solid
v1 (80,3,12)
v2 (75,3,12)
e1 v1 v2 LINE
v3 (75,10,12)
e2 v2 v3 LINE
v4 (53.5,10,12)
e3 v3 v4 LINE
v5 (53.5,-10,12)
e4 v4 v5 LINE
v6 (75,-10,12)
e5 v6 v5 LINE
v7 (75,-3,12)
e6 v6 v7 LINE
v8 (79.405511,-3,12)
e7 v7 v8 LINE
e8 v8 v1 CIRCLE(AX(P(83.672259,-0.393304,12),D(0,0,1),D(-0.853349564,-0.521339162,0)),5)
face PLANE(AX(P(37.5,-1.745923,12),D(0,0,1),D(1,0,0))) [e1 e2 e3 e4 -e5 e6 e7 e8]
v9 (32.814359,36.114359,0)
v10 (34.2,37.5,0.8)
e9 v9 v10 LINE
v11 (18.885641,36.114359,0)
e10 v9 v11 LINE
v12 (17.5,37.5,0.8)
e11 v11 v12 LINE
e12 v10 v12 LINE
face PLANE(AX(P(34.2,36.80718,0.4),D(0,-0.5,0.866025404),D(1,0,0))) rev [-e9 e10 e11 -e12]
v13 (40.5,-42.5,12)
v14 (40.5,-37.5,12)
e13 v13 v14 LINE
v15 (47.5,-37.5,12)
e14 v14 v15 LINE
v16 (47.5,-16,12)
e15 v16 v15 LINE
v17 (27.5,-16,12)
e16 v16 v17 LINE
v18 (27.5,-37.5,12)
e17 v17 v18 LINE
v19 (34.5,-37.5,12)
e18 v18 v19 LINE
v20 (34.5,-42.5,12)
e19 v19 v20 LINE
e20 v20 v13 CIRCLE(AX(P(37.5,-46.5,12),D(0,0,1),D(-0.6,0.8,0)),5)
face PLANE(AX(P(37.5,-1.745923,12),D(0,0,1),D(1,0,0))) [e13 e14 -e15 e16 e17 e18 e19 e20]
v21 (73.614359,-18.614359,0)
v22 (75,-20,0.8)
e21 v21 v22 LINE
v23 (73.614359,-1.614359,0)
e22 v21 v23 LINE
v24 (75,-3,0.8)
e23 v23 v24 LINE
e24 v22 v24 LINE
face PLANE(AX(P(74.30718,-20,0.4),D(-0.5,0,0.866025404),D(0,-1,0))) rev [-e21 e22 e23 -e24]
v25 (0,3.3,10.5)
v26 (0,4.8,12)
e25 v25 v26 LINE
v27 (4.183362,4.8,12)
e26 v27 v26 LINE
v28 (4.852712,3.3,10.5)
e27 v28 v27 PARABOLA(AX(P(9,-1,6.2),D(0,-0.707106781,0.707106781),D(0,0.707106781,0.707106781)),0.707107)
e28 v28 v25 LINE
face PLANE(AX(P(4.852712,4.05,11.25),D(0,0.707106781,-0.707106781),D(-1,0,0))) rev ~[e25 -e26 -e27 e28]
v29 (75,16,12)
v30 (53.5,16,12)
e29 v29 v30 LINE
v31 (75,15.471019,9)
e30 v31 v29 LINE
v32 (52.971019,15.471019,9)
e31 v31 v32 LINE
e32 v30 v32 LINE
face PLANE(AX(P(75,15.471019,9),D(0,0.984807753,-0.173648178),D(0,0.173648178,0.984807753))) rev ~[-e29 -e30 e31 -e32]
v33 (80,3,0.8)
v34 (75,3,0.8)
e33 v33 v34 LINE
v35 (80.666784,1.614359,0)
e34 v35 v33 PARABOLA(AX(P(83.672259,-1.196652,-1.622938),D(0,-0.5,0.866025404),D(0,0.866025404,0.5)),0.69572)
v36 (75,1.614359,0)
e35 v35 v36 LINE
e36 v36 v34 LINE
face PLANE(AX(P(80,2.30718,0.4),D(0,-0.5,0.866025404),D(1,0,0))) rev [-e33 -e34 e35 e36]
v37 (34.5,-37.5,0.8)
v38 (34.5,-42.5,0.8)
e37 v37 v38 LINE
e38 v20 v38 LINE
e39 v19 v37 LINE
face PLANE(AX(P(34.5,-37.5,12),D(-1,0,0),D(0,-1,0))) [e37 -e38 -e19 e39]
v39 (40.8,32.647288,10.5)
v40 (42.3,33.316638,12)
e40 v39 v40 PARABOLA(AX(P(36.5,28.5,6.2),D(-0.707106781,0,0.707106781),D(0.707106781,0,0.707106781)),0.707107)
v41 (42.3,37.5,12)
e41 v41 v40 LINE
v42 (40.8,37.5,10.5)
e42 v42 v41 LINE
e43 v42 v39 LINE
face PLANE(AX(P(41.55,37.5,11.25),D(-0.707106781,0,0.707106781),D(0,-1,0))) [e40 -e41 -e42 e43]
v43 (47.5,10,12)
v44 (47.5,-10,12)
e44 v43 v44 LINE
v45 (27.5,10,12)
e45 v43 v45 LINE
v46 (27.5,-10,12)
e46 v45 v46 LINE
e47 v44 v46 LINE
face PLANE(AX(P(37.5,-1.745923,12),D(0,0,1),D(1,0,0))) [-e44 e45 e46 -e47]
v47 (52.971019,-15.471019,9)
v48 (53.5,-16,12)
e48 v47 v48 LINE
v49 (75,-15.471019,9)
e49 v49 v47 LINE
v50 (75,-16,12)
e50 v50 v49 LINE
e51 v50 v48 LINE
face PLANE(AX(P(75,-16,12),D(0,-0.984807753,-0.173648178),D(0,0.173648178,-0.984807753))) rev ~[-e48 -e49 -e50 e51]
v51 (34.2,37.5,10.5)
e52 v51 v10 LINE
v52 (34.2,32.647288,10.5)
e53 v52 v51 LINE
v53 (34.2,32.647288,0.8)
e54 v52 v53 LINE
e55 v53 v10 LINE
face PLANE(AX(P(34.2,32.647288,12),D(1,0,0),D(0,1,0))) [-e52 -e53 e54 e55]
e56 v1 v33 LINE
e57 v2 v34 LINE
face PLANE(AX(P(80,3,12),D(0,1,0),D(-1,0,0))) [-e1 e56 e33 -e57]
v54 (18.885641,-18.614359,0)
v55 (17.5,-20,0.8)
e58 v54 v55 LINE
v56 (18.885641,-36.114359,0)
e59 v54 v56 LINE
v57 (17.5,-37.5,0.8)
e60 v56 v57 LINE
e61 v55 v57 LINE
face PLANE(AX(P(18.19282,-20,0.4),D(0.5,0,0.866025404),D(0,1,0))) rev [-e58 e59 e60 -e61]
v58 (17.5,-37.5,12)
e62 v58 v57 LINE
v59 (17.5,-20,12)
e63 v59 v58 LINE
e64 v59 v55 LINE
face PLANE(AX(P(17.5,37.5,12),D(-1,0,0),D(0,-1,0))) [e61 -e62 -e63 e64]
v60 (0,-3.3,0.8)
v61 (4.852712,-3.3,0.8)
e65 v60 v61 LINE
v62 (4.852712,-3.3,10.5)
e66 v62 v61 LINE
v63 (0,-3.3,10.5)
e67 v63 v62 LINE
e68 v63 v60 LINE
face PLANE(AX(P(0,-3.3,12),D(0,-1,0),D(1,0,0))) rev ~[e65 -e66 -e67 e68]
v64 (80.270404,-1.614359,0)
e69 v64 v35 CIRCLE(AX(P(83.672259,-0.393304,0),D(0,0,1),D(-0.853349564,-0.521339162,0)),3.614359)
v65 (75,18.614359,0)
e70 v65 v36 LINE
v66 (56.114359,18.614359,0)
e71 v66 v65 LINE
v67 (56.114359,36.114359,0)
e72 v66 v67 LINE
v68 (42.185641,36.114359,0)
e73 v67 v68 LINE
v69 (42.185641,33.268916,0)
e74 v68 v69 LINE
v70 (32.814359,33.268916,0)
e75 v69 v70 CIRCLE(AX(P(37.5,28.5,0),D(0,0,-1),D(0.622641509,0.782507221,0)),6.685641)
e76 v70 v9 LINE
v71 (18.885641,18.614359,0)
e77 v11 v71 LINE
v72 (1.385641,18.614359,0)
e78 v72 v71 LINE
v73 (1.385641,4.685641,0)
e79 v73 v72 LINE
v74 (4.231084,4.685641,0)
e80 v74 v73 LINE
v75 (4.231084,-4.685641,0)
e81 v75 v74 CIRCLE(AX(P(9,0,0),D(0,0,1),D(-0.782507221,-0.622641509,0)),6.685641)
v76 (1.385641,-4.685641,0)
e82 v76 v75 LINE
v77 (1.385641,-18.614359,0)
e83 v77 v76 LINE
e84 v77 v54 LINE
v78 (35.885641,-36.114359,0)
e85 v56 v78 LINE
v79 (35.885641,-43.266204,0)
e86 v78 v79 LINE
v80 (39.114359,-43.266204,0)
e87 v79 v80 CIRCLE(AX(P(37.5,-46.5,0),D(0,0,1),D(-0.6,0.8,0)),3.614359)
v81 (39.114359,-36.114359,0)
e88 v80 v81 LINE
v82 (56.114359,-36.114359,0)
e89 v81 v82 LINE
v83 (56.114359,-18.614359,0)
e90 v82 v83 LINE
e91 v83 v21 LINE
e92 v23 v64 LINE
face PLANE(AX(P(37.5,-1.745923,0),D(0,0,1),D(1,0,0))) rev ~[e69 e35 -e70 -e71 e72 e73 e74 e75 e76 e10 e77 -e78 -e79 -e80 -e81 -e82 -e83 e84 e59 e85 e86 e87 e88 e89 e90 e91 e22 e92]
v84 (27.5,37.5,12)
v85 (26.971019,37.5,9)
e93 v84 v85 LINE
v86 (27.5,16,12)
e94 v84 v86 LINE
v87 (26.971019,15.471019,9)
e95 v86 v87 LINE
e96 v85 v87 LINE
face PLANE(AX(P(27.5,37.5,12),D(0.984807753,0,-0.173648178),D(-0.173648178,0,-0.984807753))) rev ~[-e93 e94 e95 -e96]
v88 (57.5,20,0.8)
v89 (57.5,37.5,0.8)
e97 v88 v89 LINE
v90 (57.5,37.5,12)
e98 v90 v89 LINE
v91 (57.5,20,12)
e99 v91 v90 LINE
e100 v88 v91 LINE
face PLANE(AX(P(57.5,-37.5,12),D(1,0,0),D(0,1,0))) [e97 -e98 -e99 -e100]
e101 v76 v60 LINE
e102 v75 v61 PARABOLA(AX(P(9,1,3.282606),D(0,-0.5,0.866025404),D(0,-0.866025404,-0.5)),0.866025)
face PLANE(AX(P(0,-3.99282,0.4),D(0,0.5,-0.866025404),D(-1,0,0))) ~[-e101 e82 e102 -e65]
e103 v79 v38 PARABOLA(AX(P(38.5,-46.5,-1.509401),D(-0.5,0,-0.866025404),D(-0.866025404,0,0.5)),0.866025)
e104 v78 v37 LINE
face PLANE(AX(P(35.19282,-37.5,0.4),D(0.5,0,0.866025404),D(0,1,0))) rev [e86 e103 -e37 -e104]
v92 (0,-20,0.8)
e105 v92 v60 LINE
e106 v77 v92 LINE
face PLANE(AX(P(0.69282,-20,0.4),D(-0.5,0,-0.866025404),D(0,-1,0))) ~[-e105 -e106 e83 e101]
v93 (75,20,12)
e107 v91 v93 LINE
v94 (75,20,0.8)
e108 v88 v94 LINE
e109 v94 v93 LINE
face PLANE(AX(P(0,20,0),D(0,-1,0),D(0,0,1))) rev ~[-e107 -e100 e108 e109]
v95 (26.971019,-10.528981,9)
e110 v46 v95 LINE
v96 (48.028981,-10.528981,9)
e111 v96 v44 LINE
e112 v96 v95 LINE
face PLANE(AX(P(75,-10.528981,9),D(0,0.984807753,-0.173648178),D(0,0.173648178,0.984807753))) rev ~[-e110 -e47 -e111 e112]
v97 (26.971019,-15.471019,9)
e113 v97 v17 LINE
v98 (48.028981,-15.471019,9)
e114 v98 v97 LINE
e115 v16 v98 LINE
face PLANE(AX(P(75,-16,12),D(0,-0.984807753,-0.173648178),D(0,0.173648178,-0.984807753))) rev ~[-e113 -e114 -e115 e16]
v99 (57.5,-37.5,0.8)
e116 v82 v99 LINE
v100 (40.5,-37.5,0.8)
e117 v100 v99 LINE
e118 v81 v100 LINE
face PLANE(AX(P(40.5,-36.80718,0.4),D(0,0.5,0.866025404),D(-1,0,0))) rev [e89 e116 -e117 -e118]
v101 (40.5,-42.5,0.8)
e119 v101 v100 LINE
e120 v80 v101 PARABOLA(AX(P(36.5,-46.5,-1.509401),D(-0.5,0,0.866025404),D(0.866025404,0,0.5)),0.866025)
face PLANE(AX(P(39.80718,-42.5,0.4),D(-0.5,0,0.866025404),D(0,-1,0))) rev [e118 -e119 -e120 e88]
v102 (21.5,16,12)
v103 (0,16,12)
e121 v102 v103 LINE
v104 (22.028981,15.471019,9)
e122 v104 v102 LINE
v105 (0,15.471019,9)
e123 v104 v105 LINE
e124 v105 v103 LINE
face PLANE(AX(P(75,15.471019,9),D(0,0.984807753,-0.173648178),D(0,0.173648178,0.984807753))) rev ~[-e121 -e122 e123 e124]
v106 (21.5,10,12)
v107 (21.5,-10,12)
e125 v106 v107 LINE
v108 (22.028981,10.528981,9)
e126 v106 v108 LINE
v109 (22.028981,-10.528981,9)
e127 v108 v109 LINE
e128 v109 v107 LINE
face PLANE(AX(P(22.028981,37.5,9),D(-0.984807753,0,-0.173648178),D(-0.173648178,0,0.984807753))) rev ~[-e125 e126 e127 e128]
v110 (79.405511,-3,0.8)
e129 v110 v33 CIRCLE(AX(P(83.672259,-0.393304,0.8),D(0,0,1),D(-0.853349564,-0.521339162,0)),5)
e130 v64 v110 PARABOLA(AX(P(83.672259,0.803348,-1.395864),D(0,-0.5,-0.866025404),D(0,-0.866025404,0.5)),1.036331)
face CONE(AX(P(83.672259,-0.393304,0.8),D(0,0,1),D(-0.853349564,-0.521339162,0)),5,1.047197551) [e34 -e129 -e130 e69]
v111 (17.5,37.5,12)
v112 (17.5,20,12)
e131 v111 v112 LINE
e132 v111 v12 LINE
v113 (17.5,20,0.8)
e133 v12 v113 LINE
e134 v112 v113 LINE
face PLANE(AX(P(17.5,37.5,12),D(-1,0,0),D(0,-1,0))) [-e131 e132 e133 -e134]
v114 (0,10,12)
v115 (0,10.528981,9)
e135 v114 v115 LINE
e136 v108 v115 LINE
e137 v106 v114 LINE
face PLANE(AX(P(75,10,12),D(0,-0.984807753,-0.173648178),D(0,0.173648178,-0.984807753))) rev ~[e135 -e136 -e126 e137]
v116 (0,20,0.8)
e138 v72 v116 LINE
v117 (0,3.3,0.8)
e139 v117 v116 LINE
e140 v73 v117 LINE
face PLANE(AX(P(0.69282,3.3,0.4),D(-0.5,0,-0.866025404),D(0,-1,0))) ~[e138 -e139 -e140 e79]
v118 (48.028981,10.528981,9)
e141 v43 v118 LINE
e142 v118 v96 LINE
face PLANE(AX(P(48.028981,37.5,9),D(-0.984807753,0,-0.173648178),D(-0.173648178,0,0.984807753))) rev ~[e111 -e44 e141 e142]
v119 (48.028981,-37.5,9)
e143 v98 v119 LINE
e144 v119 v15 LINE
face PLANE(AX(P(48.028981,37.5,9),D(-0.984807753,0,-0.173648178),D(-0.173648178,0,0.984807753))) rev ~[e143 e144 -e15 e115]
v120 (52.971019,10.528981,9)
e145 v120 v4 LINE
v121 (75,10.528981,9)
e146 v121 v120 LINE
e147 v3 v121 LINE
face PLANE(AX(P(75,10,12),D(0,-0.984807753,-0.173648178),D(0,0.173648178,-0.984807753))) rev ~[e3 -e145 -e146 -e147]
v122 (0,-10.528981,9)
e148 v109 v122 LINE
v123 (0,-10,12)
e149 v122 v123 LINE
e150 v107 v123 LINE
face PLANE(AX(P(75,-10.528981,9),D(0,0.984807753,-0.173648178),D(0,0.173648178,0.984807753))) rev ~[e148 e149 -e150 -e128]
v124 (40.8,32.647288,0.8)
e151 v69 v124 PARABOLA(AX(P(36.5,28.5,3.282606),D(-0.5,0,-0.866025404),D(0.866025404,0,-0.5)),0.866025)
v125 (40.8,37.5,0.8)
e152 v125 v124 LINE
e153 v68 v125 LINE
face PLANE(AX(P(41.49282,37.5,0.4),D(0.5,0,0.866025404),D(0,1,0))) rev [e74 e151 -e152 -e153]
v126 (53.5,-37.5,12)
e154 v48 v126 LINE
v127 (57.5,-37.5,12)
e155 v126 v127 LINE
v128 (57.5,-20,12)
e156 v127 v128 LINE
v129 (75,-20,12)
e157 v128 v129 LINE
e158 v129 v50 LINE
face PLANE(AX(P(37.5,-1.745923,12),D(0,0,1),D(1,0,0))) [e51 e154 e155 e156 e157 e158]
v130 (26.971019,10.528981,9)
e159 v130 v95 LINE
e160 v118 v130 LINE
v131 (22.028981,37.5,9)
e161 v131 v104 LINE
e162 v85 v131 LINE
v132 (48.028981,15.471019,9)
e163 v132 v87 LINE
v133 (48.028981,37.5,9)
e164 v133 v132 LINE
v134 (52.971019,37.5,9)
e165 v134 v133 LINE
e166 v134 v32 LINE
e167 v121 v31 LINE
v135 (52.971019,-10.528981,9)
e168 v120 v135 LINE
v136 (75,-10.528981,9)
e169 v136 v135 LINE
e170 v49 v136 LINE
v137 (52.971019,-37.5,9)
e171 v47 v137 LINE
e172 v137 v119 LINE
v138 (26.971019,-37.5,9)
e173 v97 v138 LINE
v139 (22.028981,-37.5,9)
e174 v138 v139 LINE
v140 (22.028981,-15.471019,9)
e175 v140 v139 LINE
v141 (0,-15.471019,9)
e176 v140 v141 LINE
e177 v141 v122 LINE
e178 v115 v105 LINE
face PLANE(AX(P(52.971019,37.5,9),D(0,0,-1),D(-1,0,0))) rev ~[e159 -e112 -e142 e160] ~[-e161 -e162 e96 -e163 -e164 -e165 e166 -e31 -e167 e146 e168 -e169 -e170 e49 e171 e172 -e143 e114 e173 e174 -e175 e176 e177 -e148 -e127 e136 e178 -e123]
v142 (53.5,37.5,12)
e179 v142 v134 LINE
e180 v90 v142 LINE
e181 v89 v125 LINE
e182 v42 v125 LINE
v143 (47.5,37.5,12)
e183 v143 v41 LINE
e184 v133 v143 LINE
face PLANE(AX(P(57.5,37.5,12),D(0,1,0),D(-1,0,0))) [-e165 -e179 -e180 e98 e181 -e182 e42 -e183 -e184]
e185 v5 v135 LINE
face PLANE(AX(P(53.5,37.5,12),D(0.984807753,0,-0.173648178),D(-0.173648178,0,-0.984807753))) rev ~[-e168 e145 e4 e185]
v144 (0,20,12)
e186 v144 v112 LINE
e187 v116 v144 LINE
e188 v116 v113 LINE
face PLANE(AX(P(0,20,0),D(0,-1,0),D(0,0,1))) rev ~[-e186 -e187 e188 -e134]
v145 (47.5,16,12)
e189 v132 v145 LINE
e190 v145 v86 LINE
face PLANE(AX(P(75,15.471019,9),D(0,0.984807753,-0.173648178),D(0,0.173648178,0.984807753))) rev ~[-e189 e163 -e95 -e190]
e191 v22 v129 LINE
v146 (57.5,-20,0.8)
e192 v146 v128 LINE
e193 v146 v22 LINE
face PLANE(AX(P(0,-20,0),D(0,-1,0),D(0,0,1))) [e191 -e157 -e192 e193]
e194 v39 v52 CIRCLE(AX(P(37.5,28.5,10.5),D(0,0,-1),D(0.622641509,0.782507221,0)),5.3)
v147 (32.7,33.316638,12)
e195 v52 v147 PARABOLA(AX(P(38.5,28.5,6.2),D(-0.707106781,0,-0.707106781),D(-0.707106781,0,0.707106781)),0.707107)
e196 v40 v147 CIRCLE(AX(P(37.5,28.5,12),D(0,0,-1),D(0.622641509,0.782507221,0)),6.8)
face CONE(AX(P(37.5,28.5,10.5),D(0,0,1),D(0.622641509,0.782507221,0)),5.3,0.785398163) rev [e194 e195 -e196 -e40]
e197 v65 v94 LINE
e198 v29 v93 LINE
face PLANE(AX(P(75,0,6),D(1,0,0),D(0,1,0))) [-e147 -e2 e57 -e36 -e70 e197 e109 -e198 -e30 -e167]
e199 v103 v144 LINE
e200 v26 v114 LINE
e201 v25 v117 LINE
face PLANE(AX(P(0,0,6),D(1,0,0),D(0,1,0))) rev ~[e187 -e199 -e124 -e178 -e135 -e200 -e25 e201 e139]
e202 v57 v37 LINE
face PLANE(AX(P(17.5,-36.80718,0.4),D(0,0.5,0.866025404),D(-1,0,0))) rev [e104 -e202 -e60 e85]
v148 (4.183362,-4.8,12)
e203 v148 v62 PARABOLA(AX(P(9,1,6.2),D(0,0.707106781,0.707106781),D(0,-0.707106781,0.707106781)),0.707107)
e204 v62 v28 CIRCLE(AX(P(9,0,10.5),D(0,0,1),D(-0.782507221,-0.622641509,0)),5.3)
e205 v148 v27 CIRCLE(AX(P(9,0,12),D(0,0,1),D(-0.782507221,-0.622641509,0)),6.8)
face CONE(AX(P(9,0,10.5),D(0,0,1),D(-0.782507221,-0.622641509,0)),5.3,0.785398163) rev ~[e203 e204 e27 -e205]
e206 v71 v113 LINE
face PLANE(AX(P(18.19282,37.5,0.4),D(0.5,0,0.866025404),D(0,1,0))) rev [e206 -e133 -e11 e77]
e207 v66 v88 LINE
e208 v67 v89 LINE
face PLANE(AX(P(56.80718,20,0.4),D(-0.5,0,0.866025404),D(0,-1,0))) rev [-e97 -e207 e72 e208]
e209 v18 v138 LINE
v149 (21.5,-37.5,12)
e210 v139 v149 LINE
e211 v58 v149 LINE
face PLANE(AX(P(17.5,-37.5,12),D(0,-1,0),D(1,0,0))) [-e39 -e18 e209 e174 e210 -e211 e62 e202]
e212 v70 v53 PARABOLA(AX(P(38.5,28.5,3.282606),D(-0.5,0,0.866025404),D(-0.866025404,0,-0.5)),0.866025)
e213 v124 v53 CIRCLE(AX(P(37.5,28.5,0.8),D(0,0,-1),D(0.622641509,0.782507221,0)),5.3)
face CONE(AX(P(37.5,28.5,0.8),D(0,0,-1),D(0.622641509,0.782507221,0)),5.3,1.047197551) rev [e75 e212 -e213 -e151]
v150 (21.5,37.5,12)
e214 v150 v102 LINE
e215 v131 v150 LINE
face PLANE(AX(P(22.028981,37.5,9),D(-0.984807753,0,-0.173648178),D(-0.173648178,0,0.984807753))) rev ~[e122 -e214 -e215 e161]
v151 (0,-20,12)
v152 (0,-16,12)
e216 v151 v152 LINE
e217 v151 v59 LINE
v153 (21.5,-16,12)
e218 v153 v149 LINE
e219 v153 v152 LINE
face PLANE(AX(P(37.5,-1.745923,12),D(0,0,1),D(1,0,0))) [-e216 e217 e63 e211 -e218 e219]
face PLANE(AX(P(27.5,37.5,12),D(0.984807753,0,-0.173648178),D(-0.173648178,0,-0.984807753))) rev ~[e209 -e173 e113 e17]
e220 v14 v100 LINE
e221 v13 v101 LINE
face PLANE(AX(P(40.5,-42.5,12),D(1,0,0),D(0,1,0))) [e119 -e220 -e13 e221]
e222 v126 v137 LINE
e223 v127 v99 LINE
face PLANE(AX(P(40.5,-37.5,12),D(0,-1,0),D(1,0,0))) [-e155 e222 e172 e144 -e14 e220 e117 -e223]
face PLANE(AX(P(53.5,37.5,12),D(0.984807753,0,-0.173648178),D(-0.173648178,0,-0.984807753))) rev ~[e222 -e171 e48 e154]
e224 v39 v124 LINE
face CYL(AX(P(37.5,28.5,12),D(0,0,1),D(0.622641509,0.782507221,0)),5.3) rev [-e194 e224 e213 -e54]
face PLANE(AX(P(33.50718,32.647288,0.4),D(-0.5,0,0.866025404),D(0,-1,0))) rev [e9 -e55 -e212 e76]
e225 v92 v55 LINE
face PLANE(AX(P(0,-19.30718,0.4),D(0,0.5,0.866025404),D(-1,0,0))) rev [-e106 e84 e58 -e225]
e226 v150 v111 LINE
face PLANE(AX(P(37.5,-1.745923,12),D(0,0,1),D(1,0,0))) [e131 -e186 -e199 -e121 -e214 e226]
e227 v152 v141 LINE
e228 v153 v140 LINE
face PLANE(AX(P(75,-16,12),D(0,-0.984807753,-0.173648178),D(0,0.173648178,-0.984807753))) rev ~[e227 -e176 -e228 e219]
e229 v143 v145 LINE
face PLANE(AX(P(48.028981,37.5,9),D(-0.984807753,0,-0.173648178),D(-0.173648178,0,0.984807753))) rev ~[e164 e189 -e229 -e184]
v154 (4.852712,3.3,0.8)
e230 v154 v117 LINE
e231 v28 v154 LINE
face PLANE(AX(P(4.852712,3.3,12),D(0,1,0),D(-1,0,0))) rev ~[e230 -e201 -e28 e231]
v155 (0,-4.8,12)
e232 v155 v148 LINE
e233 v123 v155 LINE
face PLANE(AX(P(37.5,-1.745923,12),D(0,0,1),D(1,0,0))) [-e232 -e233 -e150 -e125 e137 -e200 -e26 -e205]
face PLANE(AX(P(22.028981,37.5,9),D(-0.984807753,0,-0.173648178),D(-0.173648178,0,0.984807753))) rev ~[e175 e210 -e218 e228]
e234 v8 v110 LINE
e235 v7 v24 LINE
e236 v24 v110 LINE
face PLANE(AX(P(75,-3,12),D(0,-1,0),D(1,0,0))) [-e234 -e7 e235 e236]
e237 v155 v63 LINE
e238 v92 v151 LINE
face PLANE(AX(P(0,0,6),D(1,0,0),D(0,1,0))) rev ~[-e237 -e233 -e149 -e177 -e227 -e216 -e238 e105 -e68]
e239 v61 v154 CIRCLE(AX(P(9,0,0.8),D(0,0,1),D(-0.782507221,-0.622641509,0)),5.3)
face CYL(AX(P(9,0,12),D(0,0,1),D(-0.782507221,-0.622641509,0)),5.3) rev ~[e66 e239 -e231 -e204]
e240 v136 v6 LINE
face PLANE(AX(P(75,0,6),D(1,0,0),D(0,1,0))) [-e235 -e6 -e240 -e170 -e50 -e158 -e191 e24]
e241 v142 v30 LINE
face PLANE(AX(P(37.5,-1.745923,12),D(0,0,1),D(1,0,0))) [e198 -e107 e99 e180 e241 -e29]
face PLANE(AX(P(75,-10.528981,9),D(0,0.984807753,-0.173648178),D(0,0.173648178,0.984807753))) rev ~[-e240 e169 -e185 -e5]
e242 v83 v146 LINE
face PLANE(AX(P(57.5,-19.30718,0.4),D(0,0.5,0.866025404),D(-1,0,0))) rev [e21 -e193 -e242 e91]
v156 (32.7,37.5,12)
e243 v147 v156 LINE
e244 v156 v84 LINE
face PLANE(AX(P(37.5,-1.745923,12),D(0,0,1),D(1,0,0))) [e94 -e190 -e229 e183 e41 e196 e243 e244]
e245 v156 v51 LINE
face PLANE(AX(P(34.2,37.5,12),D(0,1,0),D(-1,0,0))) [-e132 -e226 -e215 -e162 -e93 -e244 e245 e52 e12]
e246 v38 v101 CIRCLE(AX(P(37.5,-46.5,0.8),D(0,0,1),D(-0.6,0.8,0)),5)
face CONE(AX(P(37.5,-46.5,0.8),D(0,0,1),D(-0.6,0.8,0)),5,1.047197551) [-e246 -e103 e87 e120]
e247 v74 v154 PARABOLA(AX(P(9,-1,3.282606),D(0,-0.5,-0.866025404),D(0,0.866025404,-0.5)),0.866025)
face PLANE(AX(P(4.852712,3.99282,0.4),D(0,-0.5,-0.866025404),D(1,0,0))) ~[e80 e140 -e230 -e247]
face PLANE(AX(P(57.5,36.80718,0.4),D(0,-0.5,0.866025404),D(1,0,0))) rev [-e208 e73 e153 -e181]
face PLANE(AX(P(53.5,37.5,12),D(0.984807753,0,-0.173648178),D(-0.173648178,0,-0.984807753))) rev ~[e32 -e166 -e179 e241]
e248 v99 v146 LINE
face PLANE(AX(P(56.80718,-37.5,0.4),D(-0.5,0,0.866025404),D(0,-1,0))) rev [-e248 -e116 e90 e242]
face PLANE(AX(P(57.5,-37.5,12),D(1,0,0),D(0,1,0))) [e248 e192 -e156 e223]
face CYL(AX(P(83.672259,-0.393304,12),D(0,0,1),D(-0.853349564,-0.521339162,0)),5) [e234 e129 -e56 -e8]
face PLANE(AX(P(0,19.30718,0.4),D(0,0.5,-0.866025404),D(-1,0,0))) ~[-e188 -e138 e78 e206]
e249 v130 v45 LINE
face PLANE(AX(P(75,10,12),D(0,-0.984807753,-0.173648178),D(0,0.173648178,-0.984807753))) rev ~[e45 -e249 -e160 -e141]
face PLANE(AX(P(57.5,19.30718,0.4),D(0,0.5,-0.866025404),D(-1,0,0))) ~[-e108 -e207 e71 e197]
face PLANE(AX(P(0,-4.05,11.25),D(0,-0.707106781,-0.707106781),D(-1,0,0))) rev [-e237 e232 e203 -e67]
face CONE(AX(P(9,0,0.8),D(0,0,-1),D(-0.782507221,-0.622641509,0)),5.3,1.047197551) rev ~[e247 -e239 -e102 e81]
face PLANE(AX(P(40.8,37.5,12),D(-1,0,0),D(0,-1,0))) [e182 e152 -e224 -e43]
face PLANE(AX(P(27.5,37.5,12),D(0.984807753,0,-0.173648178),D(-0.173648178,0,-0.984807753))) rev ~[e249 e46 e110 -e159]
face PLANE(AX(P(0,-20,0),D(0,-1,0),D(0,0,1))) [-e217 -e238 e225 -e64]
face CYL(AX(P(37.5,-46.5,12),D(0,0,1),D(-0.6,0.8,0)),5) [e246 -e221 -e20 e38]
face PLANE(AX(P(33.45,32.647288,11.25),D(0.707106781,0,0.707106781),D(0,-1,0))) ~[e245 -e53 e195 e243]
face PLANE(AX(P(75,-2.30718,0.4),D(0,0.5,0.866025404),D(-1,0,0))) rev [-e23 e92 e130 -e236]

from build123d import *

# Parameters (mm, degrees)
F0_W      = 40
F0_H      = 12
F1_DEPTH  = 75
F3_DEPTH  = 12
F5_DEPTH  = 12
F7_DEPTH  = 75
F9_DEPTH  = 75
F10_SIZE2 = 0.8
F10_SIZE  = 1.3856406461
F11_SIZE  = 1.5


with BuildPart() as f1:
    # F0 (on Right) → F1 (new body)
    with BuildSketch(Plane.YZ):
        with Locations((0, 6)):
            Rectangle(F0_W, F0_H)
    extrude(amount=F1_DEPTH)

    # F2 (on face) → F3 (join)
    with BuildSketch(Plane.XY.offset(12)):
        with BuildLine():
            Line((40.5, -37.5), (57.5, -37.5))
            Line((57.5, -37.5), (57.5, 37.5))
            Line((57.5, 37.5), (40.8, 37.5))
            Line((40.8, 37.5), (40.8, 32.6472882707))
            ThreePointArc((40.8, 32.6472882707), (37.5, 23.2), (34.2, 32.6472882707))
            Line((34.2, 32.6472882707), (34.2, 37.5))
            Line((34.2, 37.5), (17.5, 37.5))
            Line((17.5, 37.5), (17.5, -37.5))
            Line((17.5, -37.5), (34.5, -37.5))
            Line((34.5, -37.5), (34.5, -42.5))
            ThreePointArc((34.5, -42.5), (37.5, -51.5), (40.5, -42.5))
            Line((40.5, -42.5), (40.5, -37.5))
        make_face()
        with BuildLine():
            Line((80, 3), (75, 3))
            Line((75, 3), (75, -3))
            Line((75, -3), (79.4055112535, -3))
            ThreePointArc((79.4055112535, -3), (88.6478954729, -0.8862974958), (80, 3))
        make_face()
    extrude(amount=-F3_DEPTH)

    # F4 (on face) → F5 (cut)
    with BuildSketch(Plane.XY.offset(12)):
        with BuildLine():
            Line((0, 3.3), (0, 3))
            Line((0, 3), (0, -3))
            Line((0, -3), (0, -3.3))
            Line((0, -3.3), (4.8527117293, -3.3))
            ThreePointArc((4.8527117293, -3.3), (14.3, 0), (4.8527117293, 3.3))
            Line((4.8527117293, 3.3), (0, 3.3))
        make_face()
    extrude(amount=-F5_DEPTH, mode=Mode.SUBTRACT)

    # F6 (on face) → F7 (cut)
    with BuildSketch(Plane.YZ.offset(75)):
        Polygon((-10, 12), (-16, 12), (-15.4710190579, 9), (-10.5289809421, 9), align=None)
        Polygon((15.4710190579, 9), (16, 12), (10, 12), (10.5289809421, 9), align=None)
    extrude(amount=-F7_DEPTH, mode=Mode.SUBTRACT)

    # F8 (on face) → F9 (cut)
    with BuildSketch(Plane(origin=(0, 37.5, 0), x_dir=(-1, 0, 0), z_dir=(0, 1, 0))):
        Polygon((-47.5, 12), (-53.5, 12), (-52.9710190579, 9), (-48.0289809421, 9), align=None)
        Polygon((-21.5, 12), (-27.5, 12), (-26.9710190579, 9), (-22.0289809421, 9), align=None)
    extrude(amount=-F9_DEPTH, mode=Mode.SUBTRACT)

    # F10
    f10_edges = [f1.edges().sort_by_distance(p)[0] for p in [
        (37.5, -51.5, 0),
        (40.5, -40, 0),
        (49, -37.5, 0),
        (66.25, -20, 0),
        (34.5, -40, 0),
        (75, -11.5, 0),
        (57.5, -28.75, 0),
        (77.5, 3, 0),
        (77.202756, -3, 0),
        (88.647895, -0.886297, 0),
        (66.25, 20, 0),
        (57.5, 28.75, 0),
        (49.15, 37.5, 0),
        (40.8, 35.073644, 0),
        (37.5, 23.2, 0),
        (34.2, 35.073644, 0),
        (25.85, 37.5, 0),
        (17.5, 28.75, 0),
        (8.75, 20, 0),
        (2.426356, -3.3, 0),
        (14.3, 0, 0),
        (2.426356, 3.3, 0),
        (0, 11.65, 0),
        (0, -11.65, 0),
        (8.75, -20, 0),
        (17.5, -28.75, 0),
        (26, -37.5, 0),
    ]]
    f10_side = f1.faces().sort_by_distance((39.337765, -1.867927, 0))[0]
    chamfer(f10_edges, length=F10_SIZE, length2=F10_SIZE2, reference=f10_side)

    # F11
    f11_edges = [f1.edges().sort_by_distance(p)[0] for p in [
        (2.426356, -3.3, 12),
        (14.3, 0, 12),
        (2.426356, 3.3, 12),
        (37.5, 23.2, 12),
        (34.2, 35.073644, 12),
        (40.8, 35.073644, 12),
    ]]
    chamfer(f11_edges, length=F11_SIZE)


solid = f1.part
